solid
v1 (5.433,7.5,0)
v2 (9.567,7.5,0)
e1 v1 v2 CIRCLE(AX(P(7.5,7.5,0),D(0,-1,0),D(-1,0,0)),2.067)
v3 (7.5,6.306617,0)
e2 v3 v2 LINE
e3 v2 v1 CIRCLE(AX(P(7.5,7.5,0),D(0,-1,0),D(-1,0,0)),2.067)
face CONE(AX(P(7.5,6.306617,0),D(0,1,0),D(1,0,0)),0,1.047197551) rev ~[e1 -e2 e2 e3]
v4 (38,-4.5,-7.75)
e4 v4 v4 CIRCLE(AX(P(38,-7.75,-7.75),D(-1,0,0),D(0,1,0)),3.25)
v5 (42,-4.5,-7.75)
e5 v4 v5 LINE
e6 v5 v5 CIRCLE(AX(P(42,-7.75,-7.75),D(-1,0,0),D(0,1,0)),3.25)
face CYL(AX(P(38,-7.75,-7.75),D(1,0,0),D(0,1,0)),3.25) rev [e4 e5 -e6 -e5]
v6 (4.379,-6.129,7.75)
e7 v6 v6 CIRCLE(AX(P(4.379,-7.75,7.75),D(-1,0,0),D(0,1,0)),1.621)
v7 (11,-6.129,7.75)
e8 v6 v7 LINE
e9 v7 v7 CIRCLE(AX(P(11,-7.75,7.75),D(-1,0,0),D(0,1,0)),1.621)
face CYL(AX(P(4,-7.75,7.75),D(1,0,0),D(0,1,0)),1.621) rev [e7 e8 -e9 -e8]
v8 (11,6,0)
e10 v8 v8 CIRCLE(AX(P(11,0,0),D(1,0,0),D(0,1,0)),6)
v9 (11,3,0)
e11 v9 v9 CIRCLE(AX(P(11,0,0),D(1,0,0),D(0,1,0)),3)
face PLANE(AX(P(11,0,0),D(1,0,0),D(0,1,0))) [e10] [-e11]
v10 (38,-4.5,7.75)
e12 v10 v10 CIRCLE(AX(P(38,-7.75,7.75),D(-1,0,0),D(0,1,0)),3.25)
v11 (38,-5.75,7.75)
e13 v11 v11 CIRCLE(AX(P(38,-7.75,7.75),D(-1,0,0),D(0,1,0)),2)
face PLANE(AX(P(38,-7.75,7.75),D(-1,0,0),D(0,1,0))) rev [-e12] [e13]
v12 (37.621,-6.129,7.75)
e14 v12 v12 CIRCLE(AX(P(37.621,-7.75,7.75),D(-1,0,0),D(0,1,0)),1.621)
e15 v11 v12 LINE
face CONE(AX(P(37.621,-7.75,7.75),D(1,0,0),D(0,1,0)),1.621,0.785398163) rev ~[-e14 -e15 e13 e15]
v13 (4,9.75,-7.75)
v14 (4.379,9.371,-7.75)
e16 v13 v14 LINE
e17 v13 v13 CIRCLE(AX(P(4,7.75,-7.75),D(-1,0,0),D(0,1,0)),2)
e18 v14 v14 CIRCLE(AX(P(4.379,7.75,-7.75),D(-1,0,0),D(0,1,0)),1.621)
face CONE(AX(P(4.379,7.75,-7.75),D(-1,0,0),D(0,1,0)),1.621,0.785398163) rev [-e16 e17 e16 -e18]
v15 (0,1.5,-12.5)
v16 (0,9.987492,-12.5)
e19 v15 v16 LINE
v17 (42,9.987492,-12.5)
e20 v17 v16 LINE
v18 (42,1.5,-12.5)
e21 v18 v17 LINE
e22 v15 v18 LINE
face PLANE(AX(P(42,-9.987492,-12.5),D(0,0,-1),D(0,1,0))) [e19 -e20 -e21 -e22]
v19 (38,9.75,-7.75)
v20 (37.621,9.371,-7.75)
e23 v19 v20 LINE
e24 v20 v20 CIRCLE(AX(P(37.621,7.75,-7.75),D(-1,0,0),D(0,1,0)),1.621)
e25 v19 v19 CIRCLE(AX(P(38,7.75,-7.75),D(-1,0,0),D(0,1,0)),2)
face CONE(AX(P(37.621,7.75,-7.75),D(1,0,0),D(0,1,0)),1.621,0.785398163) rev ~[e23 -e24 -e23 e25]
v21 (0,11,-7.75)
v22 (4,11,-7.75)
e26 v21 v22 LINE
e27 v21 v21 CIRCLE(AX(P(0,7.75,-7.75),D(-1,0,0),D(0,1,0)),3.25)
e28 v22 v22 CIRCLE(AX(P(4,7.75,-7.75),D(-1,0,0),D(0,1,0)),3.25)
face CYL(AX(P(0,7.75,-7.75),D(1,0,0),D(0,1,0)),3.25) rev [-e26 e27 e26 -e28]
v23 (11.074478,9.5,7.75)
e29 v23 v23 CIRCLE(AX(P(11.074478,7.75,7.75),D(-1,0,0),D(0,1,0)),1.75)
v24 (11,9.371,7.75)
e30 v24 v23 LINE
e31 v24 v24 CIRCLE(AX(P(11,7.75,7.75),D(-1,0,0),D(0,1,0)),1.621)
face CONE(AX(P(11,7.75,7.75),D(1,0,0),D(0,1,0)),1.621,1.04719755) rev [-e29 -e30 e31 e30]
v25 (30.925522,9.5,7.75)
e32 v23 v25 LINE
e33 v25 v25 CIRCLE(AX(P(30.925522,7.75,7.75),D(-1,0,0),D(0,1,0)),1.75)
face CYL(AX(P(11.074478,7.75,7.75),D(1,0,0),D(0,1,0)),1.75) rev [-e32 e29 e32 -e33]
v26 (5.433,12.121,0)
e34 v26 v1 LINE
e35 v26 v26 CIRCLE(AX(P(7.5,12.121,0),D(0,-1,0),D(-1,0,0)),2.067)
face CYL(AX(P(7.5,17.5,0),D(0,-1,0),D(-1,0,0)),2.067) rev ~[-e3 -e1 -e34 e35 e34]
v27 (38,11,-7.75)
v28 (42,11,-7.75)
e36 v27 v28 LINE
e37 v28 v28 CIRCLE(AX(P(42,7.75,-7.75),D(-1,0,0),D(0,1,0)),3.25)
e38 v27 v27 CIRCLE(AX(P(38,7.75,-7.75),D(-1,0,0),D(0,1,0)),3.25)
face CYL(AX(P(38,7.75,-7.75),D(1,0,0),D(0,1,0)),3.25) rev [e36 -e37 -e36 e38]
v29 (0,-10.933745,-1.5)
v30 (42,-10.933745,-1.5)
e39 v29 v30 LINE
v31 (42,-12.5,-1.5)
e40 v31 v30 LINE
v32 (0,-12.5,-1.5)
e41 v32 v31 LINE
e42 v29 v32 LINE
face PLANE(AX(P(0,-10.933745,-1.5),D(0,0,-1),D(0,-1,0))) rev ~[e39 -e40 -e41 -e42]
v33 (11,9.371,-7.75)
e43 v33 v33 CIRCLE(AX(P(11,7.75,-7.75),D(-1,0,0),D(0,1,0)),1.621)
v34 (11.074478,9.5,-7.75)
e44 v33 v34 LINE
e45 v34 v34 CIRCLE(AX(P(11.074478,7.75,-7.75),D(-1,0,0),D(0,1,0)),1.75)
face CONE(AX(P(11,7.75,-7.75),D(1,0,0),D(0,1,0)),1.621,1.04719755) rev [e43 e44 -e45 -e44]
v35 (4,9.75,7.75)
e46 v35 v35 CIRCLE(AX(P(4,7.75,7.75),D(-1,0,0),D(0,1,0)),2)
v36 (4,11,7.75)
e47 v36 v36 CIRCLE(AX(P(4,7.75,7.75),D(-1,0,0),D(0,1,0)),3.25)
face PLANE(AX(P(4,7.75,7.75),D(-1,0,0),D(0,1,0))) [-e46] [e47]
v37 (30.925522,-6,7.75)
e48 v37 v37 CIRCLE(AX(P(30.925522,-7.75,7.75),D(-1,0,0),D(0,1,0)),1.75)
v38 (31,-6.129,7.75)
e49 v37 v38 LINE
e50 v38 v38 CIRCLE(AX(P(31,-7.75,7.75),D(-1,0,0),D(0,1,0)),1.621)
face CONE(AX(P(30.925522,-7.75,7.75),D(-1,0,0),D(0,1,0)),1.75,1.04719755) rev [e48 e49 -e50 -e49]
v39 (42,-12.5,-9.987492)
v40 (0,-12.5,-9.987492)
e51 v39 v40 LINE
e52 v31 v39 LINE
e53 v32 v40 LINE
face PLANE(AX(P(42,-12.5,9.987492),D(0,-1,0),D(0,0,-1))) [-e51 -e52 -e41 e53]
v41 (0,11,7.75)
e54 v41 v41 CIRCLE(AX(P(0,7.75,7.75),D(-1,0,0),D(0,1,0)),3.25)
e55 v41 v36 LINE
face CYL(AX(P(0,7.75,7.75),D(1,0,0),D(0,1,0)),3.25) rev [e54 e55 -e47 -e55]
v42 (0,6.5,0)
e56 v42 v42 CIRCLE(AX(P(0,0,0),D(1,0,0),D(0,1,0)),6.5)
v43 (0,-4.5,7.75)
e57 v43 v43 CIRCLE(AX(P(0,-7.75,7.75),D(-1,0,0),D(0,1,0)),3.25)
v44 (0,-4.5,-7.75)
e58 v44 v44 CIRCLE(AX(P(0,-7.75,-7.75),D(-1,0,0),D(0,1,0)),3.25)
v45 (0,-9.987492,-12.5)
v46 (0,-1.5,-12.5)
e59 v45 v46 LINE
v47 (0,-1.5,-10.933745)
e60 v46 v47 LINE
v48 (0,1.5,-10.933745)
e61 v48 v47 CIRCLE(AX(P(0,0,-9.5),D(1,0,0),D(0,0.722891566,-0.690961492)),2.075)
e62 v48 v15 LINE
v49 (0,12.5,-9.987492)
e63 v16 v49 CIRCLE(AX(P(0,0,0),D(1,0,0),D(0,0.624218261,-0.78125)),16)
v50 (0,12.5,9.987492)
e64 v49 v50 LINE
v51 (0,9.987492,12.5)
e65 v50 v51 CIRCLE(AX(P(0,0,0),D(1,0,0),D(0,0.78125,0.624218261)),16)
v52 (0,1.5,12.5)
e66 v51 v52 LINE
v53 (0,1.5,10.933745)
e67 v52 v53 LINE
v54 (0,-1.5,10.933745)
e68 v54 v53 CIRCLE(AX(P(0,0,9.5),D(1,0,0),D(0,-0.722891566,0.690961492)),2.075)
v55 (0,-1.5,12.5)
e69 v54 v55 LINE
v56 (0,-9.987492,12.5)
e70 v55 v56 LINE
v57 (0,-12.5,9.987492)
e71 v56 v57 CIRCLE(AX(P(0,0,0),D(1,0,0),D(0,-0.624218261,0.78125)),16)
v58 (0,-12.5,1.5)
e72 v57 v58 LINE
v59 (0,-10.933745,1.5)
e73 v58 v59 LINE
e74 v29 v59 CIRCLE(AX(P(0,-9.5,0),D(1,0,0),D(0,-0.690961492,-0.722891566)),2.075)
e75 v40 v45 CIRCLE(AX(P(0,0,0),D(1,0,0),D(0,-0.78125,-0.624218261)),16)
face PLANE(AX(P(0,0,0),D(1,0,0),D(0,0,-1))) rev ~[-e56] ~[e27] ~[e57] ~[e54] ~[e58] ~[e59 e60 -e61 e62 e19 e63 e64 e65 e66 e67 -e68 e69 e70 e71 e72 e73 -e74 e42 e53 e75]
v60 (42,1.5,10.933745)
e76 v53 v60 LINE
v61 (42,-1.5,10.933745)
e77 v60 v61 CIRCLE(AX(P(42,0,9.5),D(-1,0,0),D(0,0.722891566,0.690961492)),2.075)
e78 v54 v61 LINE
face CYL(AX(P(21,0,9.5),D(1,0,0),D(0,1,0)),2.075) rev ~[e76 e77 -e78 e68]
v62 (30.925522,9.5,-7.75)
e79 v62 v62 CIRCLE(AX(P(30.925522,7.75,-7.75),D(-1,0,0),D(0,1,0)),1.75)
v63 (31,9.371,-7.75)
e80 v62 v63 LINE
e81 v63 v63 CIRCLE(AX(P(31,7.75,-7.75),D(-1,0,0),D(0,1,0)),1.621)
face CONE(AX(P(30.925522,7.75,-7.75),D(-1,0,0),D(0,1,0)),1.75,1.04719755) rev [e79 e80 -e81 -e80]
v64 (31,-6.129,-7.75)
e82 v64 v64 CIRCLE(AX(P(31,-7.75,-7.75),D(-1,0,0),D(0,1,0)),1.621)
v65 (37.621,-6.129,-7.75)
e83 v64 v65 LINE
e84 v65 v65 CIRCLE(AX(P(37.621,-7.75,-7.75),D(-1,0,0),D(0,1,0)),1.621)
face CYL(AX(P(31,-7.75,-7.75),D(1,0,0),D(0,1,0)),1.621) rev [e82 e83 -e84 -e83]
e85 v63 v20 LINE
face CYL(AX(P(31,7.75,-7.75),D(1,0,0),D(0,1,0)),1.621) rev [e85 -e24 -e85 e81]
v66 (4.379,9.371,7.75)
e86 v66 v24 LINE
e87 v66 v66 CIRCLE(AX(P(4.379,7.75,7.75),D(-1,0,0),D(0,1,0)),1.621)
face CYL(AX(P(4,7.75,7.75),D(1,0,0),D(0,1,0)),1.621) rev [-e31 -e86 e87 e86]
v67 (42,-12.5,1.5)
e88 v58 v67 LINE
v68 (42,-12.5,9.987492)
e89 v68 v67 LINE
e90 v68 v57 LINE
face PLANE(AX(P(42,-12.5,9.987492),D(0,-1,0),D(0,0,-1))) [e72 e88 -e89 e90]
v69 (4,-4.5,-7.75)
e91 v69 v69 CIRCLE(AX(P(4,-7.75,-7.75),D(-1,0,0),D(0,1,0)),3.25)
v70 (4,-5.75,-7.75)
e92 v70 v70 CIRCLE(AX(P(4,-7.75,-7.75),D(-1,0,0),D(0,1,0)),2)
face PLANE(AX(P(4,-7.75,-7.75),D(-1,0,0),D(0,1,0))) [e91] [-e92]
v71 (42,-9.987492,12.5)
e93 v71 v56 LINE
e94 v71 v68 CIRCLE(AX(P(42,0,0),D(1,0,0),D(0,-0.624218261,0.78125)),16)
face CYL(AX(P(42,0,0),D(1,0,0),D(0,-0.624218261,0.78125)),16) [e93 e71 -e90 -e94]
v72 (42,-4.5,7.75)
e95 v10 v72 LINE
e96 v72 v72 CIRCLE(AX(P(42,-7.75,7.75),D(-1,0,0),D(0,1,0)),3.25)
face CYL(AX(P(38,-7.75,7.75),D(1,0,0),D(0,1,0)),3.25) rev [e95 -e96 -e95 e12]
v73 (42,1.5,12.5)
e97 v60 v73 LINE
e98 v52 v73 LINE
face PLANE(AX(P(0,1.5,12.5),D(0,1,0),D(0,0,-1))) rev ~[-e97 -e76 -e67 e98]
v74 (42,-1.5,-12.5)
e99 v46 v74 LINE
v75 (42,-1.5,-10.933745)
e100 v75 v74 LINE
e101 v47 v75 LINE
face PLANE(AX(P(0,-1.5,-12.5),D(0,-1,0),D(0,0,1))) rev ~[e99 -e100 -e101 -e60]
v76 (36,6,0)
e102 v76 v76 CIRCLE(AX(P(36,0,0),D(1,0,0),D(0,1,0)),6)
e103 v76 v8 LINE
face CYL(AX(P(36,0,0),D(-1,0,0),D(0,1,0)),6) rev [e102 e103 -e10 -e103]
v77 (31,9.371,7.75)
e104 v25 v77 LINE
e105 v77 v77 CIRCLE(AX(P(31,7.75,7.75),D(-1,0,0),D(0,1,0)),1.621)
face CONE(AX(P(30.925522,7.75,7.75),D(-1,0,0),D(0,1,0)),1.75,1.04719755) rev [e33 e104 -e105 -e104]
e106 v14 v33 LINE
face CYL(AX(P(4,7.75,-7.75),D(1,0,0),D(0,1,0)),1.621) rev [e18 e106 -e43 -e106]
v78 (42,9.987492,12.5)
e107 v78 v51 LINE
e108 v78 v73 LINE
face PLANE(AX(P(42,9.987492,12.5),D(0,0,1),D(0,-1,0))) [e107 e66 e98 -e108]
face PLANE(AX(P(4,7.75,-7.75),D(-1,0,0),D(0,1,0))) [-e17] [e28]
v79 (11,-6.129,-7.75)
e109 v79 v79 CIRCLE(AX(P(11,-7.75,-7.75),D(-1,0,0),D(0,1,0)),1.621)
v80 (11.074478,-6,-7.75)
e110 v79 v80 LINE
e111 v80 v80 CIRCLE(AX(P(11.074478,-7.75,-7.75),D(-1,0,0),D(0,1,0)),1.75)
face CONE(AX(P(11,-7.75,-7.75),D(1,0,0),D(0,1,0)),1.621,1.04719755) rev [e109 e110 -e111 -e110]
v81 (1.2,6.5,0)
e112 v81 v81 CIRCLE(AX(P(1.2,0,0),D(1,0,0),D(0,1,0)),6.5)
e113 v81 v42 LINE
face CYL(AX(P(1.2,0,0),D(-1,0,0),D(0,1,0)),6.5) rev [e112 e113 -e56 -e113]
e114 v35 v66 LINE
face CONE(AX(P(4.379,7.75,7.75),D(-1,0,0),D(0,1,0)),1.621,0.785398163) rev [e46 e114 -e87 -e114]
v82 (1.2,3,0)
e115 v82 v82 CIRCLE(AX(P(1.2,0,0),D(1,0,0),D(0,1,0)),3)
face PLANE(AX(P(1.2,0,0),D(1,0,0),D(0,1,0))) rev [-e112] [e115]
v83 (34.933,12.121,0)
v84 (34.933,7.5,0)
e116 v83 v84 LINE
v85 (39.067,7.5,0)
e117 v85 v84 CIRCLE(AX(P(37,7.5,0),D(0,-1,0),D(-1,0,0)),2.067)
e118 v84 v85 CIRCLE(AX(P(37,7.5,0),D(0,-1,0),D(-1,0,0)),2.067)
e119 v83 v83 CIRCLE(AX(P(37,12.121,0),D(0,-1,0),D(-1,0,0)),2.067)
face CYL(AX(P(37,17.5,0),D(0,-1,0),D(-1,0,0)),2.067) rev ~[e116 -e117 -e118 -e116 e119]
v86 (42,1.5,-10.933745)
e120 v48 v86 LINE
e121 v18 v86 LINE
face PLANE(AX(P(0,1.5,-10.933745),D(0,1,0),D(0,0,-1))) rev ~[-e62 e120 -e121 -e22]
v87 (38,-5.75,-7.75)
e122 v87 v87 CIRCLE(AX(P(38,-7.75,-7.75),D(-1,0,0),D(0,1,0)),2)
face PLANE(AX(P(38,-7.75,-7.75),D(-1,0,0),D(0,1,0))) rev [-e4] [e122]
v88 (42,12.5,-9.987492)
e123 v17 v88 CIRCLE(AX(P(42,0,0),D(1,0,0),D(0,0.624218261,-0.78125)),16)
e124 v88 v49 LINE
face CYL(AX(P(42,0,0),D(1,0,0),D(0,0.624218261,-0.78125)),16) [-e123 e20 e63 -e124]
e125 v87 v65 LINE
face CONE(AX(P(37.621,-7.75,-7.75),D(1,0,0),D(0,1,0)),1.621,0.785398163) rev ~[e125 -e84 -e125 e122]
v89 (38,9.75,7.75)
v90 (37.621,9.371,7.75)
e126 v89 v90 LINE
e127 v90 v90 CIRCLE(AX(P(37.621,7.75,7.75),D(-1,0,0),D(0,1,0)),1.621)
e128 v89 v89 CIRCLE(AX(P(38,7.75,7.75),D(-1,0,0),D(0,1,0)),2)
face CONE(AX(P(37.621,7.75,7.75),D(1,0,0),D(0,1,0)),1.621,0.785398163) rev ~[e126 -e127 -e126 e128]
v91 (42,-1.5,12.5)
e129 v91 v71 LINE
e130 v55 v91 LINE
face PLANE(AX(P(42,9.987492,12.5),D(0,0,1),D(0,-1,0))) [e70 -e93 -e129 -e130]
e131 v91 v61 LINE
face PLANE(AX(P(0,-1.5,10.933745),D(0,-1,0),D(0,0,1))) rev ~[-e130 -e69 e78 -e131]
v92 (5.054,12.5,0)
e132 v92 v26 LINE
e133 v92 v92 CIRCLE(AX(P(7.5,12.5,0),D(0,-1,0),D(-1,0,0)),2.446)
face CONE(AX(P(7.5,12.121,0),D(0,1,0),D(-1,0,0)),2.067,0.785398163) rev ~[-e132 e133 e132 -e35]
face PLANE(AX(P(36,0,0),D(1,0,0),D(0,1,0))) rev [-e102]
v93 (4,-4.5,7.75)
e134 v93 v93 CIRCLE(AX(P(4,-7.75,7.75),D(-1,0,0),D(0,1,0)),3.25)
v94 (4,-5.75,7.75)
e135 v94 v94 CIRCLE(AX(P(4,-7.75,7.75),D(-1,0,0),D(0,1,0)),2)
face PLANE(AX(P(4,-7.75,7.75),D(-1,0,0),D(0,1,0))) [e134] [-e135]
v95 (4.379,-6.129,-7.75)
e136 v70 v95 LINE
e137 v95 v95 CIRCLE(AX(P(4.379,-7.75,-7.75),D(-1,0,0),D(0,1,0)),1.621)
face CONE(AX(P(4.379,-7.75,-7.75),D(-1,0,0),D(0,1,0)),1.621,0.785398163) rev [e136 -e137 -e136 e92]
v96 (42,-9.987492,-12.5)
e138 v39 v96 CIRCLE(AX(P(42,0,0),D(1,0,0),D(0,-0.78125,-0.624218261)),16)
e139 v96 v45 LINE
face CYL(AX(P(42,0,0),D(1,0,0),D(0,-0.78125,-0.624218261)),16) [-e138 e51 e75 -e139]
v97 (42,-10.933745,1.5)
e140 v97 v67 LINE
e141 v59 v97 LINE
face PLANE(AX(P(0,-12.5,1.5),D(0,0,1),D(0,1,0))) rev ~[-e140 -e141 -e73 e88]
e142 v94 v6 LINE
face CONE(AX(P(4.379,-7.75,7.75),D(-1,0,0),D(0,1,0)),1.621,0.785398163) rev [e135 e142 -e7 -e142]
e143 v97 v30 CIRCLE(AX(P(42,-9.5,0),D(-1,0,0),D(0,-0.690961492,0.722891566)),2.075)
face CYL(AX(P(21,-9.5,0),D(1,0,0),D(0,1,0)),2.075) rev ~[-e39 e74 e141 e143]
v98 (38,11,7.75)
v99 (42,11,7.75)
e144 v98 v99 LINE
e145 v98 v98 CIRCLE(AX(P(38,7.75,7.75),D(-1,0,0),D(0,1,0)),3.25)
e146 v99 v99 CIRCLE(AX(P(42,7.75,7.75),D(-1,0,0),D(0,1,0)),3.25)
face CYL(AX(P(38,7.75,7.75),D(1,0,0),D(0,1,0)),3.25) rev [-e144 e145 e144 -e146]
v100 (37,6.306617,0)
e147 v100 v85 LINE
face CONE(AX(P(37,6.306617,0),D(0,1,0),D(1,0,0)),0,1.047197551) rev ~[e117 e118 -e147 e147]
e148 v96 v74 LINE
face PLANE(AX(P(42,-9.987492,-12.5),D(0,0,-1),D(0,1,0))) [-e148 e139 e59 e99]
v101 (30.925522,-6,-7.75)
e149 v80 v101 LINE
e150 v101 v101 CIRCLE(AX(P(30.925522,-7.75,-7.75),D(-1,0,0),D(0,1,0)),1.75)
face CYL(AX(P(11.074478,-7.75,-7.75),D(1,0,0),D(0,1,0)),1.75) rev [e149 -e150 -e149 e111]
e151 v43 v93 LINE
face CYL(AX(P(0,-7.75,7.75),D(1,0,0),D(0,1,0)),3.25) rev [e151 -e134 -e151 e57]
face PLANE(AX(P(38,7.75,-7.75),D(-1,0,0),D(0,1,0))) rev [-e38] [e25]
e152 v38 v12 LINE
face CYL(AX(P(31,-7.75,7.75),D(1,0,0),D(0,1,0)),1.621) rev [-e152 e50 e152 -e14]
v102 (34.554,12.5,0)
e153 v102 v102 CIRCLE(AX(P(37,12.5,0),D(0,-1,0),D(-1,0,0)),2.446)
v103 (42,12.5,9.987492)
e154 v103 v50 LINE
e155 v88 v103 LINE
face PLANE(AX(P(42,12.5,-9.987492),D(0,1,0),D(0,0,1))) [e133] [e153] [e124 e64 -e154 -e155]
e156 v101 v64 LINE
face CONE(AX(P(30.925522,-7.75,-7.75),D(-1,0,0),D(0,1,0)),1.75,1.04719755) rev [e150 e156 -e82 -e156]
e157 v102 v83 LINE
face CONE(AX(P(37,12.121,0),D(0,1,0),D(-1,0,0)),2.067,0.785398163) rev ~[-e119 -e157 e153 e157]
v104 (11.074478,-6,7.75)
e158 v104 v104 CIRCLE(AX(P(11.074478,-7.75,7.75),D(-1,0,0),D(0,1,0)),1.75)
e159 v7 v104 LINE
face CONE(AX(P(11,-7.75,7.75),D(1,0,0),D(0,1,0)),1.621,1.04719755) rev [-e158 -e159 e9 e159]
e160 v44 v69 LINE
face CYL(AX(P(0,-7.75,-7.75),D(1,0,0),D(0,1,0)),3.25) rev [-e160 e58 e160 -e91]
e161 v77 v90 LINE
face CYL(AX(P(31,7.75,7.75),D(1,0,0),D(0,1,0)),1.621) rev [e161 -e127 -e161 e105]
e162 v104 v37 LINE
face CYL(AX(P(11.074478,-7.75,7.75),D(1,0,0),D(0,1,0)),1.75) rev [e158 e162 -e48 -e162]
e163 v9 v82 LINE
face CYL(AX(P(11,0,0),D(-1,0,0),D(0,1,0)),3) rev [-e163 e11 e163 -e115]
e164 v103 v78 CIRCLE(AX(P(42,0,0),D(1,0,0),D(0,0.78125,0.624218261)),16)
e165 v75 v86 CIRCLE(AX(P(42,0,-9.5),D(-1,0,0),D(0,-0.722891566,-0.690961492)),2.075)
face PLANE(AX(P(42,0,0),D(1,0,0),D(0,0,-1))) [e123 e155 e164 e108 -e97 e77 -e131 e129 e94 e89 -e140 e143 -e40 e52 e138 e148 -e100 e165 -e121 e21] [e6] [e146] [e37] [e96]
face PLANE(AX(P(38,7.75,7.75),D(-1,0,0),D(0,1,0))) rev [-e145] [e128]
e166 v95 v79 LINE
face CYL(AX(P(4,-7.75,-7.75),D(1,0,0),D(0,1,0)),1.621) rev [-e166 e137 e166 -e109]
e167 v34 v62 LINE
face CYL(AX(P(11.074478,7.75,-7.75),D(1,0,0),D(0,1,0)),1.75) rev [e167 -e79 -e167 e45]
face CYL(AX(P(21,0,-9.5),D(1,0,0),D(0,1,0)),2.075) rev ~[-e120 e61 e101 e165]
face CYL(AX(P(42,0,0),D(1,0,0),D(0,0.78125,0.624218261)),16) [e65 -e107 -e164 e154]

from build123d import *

# Parameters (mm, degrees)
BOSS_EXTRUDE1_DEPTH        = 42
CUT_EXTRUDE1_DEPTH         = 43
CUT_EXTRUDE2_DEPTH         = 43
CUT_EXTRUDE3_DEPTH         = 43
SKETCH10_W                 = 42
SKETCH10_H                 = 2.075
SKETCH11_W                 = 42
SKETCH11_H                 = 2.075
SKETCH12_W                 = 42
SKETCH12_H                 = 2.075
M3_5_CLEARANCE_HOLE1_D     = 4.134
M3_5_CLEARANCE_HOLE1_DEPTH = 5
M3_5_CLEARANCE_HOLE1_TIP   = 1.193383006
CHAMFER1_SIZE              = 0.379


with BuildPart() as part:
    # Sketch1 → Boss-Extrude1 (new body)
    with BuildSketch(Plane(origin=(42, 0, 0), x_dir=(0, 0, -1), z_dir=(1, 0, 0))):
        with BuildLine():
            Line((-12.5, 9.987492178), (-12.5, -9.987492178))
            ThreePointArc((-12.5, -9.987492178), (-11.313708499, -11.313708499), (-9.987492178, -12.5))
            Line((-9.987492178, -12.5), (9.987492178, -12.5))
            ThreePointArc((9.987492178, -12.5), (11.313708499, -11.313708499), (12.5, -9.987492178))
            Line((12.5, -9.987492178), (12.5, 9.987492178))
            ThreePointArc((12.5, 9.987492178), (11.313708499, 11.313708499), (9.987492178, 12.5))
            Line((9.987492178, 12.5), (-9.987492178, 12.5))
            ThreePointArc((-9.987492178, 12.5), (-11.313708499, 11.313708499), (-12.5, 9.987492178))
        make_face()
    extrude(amount=-BOSS_EXTRUDE1_DEPTH)

    # Sketch2 → Cut-Extrude1 (cut, through all)
    with BuildSketch(Plane.ZY):
        with BuildLine():
            Line((12.5, -1.5), (12.5, 1.5))
            Line((12.5, 1.5), (10.933745096, 1.5))
            ThreePointArc((10.933745096, 1.5), (11.575, 0), (10.933745096, -1.5))
            Line((10.933745096, -1.5), (12.5, -1.5))
        make_face()
    extrude(amount=-CUT_EXTRUDE1_DEPTH, mode=Mode.SUBTRACT)

    # Sketch3 → Cut-Extrude2 (cut, through all)
    with BuildSketch(Plane.ZY):
        with BuildLine():
            Line((-1.5, -12.5), (1.5, -12.5))
            Line((1.5, -12.5), (1.5, -10.933745096))
            ThreePointArc((1.5, -10.933745096), (0, -11.575), (-1.5, -10.933745096))
            Line((-1.5, -10.933745096), (-1.5, -12.5))
        make_face()
    extrude(amount=-CUT_EXTRUDE2_DEPTH, mode=Mode.SUBTRACT)

    # Sketch4 → Cut-Extrude3 (cut, through all)
    with BuildSketch(Plane.ZY):
        with BuildLine():
            Line((-12.5, 1.5), (-12.5, -1.5))
            Line((-12.5, -1.5), (-10.933745096, -1.5))
            ThreePointArc((-10.933745096, -1.5), (-11.575, 0), (-10.933745096, 1.5))
            Line((-10.933745096, 1.5), (-12.5, 1.5))
        make_face()
    extrude(amount=-CUT_EXTRUDE3_DEPTH, mode=Mode.SUBTRACT)

    # Sketch5 → Cut-Revolve1 (revolve, cut)
    with BuildSketch(Plane.XY):
        Polygon((0, 6.5), (0, 0), (36, 0), (36, 6), (11, 6), (11, 3), (1.2, 3), (1.2, 6.5), align=None)
    revolve(axis=Axis((0, 0, 0), (1, 0, 0)), mode=Mode.SUBTRACT)

    # Sketch6 → Cut-Revolve2 (revolve, cut)
    with BuildSketch(Plane(origin=(0, 0, -7.75), x_dir=(-1, 0, 0), z_dir=(0, 0, -1))):
        Polygon((-42, 11), (-42, 7.75), (0, 7.75), (0, 11), (-4, 11), (-4, 9.371), (-11, 9.371), (-11.074478185, 9.5), (-30.925521815, 9.5), (-31, 9.371), (-38, 9.371), (-38, 11), align=None)
    revolve(axis=Axis((42, 7.75, -7.75), (-1, 0, 0)), mode=Mode.SUBTRACT)

    # Sketch7 → Cut-Revolve3 (revolve, cut)
    with BuildSketch(Plane(origin=(0, 0, -7.75), x_dir=(-1, 0, 0), z_dir=(0, 0, -1))):
        Polygon((-42, -4.5), (-42, -7.75), (0, -7.75), (0, -4.5), (-4, -4.5), (-4, -6.129), (-11, -6.129), (-11.074478185, -6), (-30.925521815, -6), (-31, -6.129), (-38, -6.129), (-38, -4.5), align=None)
    revolve(axis=Axis((42, -7.75, -7.75), (-1, 0, 0)), mode=Mode.SUBTRACT)

    # Sketch8 → Cut-Revolve4 (revolve, cut)
    with BuildSketch(Plane(origin=(0, 0, 7.75), x_dir=(-1, 0, 0), z_dir=(0, 0, -1))):
        Polygon((-42, -4.5), (-42, -7.75), (0, -7.75), (0, -4.5), (-4, -4.5), (-4, -6.129), (-11, -6.129), (-11.074478185, -6), (-30.925521815, -6), (-31, -6.129), (-38, -6.129), (-38, -4.5), align=None)
    revolve(axis=Axis((42, -7.75, 7.75), (-1, 0, 0)), mode=Mode.SUBTRACT)

    # Sketch9 → Cut-Revolve5 (revolve, cut)
    with BuildSketch(Plane(origin=(0, 0, 7.75), x_dir=(-1, 0, 0), z_dir=(0, 0, -1))):
        Polygon((-42, 11), (-42, 7.75), (0, 7.75), (0, 11), (-4, 11), (-4, 9.371), (-11, 9.371), (-11.074478185, 9.5), (-30.925521815, 9.5), (-31, 9.371), (-38, 9.371), (-38, 11), align=None)
    revolve(axis=Axis((42, 7.75, 7.75), (-1, 0, 0)), mode=Mode.SUBTRACT)

    # Sketch10 → Cut-Revolve6 (revolve, cut)
    with BuildSketch(Plane.XY.offset(9.5)):
        with Locations((21, 1.0375)):
            Rectangle(SKETCH10_W, SKETCH10_H)
    revolve(axis=Axis((0, 0, 9.5), (1, 0, 0)), mode=Mode.SUBTRACT)

    # Sketch11 → Cut-Revolve7 (revolve, cut)
    with BuildSketch(Plane.XY):
        with Locations((21, -8.4625)):
            Rectangle(SKETCH11_W, SKETCH11_H)
    revolve(axis=Axis((0, -9.5, 0), (1, 0, 0)), mode=Mode.SUBTRACT)

    # Sketch12 → Cut-Revolve8 (revolve, cut)
    with BuildSketch(Plane.XY.offset(-9.5)):
        with Locations((21, 1.0375)):
            Rectangle(SKETCH12_W, SKETCH12_H)
    revolve(axis=Axis((0, 0, -9.5), (1, 0, 0)), mode=Mode.SUBTRACT)

    # M3.5 Clearance Hole1
    with Locations(Plane(origin=(0, 12.5, 0), x_dir=(1, 0, 0), z_dir=(0, 1, 0))):
        with Locations((7.5, 0), (37, 0)):
            Hole(M3_5_CLEARANCE_HOLE1_D / 2, depth=M3_5_CLEARANCE_HOLE1_DEPTH)
            with Locations((0, 0, -(M3_5_CLEARANCE_HOLE1_DEPTH + M3_5_CLEARANCE_HOLE1_TIP / 2))):  # 120° drill point
                Cone(0, M3_5_CLEARANCE_HOLE1_D / 2, M3_5_CLEARANCE_HOLE1_TIP, mode=Mode.SUBTRACT)

    # Chamfer1
    chamfer1_edges = [part.edges().sort_by_distance(p)[0] for p in [
        (4, -9.371, 7.75),
        (38, -9.371, 7.75),
        (4, 6.129, 7.75),
        (38, 6.129, 7.75),
        (39.067, 12.5, 0),
        (9.567, 12.5, 0),
        (4, 6.129, -7.75),
        (38, 6.129, -7.75),
        (4, -9.371, -7.75),
        (38, -9.371, -7.75),
    ]]
    chamfer(chamfer1_edges, length=CHAMFER1_SIZE)


solid = part.part
